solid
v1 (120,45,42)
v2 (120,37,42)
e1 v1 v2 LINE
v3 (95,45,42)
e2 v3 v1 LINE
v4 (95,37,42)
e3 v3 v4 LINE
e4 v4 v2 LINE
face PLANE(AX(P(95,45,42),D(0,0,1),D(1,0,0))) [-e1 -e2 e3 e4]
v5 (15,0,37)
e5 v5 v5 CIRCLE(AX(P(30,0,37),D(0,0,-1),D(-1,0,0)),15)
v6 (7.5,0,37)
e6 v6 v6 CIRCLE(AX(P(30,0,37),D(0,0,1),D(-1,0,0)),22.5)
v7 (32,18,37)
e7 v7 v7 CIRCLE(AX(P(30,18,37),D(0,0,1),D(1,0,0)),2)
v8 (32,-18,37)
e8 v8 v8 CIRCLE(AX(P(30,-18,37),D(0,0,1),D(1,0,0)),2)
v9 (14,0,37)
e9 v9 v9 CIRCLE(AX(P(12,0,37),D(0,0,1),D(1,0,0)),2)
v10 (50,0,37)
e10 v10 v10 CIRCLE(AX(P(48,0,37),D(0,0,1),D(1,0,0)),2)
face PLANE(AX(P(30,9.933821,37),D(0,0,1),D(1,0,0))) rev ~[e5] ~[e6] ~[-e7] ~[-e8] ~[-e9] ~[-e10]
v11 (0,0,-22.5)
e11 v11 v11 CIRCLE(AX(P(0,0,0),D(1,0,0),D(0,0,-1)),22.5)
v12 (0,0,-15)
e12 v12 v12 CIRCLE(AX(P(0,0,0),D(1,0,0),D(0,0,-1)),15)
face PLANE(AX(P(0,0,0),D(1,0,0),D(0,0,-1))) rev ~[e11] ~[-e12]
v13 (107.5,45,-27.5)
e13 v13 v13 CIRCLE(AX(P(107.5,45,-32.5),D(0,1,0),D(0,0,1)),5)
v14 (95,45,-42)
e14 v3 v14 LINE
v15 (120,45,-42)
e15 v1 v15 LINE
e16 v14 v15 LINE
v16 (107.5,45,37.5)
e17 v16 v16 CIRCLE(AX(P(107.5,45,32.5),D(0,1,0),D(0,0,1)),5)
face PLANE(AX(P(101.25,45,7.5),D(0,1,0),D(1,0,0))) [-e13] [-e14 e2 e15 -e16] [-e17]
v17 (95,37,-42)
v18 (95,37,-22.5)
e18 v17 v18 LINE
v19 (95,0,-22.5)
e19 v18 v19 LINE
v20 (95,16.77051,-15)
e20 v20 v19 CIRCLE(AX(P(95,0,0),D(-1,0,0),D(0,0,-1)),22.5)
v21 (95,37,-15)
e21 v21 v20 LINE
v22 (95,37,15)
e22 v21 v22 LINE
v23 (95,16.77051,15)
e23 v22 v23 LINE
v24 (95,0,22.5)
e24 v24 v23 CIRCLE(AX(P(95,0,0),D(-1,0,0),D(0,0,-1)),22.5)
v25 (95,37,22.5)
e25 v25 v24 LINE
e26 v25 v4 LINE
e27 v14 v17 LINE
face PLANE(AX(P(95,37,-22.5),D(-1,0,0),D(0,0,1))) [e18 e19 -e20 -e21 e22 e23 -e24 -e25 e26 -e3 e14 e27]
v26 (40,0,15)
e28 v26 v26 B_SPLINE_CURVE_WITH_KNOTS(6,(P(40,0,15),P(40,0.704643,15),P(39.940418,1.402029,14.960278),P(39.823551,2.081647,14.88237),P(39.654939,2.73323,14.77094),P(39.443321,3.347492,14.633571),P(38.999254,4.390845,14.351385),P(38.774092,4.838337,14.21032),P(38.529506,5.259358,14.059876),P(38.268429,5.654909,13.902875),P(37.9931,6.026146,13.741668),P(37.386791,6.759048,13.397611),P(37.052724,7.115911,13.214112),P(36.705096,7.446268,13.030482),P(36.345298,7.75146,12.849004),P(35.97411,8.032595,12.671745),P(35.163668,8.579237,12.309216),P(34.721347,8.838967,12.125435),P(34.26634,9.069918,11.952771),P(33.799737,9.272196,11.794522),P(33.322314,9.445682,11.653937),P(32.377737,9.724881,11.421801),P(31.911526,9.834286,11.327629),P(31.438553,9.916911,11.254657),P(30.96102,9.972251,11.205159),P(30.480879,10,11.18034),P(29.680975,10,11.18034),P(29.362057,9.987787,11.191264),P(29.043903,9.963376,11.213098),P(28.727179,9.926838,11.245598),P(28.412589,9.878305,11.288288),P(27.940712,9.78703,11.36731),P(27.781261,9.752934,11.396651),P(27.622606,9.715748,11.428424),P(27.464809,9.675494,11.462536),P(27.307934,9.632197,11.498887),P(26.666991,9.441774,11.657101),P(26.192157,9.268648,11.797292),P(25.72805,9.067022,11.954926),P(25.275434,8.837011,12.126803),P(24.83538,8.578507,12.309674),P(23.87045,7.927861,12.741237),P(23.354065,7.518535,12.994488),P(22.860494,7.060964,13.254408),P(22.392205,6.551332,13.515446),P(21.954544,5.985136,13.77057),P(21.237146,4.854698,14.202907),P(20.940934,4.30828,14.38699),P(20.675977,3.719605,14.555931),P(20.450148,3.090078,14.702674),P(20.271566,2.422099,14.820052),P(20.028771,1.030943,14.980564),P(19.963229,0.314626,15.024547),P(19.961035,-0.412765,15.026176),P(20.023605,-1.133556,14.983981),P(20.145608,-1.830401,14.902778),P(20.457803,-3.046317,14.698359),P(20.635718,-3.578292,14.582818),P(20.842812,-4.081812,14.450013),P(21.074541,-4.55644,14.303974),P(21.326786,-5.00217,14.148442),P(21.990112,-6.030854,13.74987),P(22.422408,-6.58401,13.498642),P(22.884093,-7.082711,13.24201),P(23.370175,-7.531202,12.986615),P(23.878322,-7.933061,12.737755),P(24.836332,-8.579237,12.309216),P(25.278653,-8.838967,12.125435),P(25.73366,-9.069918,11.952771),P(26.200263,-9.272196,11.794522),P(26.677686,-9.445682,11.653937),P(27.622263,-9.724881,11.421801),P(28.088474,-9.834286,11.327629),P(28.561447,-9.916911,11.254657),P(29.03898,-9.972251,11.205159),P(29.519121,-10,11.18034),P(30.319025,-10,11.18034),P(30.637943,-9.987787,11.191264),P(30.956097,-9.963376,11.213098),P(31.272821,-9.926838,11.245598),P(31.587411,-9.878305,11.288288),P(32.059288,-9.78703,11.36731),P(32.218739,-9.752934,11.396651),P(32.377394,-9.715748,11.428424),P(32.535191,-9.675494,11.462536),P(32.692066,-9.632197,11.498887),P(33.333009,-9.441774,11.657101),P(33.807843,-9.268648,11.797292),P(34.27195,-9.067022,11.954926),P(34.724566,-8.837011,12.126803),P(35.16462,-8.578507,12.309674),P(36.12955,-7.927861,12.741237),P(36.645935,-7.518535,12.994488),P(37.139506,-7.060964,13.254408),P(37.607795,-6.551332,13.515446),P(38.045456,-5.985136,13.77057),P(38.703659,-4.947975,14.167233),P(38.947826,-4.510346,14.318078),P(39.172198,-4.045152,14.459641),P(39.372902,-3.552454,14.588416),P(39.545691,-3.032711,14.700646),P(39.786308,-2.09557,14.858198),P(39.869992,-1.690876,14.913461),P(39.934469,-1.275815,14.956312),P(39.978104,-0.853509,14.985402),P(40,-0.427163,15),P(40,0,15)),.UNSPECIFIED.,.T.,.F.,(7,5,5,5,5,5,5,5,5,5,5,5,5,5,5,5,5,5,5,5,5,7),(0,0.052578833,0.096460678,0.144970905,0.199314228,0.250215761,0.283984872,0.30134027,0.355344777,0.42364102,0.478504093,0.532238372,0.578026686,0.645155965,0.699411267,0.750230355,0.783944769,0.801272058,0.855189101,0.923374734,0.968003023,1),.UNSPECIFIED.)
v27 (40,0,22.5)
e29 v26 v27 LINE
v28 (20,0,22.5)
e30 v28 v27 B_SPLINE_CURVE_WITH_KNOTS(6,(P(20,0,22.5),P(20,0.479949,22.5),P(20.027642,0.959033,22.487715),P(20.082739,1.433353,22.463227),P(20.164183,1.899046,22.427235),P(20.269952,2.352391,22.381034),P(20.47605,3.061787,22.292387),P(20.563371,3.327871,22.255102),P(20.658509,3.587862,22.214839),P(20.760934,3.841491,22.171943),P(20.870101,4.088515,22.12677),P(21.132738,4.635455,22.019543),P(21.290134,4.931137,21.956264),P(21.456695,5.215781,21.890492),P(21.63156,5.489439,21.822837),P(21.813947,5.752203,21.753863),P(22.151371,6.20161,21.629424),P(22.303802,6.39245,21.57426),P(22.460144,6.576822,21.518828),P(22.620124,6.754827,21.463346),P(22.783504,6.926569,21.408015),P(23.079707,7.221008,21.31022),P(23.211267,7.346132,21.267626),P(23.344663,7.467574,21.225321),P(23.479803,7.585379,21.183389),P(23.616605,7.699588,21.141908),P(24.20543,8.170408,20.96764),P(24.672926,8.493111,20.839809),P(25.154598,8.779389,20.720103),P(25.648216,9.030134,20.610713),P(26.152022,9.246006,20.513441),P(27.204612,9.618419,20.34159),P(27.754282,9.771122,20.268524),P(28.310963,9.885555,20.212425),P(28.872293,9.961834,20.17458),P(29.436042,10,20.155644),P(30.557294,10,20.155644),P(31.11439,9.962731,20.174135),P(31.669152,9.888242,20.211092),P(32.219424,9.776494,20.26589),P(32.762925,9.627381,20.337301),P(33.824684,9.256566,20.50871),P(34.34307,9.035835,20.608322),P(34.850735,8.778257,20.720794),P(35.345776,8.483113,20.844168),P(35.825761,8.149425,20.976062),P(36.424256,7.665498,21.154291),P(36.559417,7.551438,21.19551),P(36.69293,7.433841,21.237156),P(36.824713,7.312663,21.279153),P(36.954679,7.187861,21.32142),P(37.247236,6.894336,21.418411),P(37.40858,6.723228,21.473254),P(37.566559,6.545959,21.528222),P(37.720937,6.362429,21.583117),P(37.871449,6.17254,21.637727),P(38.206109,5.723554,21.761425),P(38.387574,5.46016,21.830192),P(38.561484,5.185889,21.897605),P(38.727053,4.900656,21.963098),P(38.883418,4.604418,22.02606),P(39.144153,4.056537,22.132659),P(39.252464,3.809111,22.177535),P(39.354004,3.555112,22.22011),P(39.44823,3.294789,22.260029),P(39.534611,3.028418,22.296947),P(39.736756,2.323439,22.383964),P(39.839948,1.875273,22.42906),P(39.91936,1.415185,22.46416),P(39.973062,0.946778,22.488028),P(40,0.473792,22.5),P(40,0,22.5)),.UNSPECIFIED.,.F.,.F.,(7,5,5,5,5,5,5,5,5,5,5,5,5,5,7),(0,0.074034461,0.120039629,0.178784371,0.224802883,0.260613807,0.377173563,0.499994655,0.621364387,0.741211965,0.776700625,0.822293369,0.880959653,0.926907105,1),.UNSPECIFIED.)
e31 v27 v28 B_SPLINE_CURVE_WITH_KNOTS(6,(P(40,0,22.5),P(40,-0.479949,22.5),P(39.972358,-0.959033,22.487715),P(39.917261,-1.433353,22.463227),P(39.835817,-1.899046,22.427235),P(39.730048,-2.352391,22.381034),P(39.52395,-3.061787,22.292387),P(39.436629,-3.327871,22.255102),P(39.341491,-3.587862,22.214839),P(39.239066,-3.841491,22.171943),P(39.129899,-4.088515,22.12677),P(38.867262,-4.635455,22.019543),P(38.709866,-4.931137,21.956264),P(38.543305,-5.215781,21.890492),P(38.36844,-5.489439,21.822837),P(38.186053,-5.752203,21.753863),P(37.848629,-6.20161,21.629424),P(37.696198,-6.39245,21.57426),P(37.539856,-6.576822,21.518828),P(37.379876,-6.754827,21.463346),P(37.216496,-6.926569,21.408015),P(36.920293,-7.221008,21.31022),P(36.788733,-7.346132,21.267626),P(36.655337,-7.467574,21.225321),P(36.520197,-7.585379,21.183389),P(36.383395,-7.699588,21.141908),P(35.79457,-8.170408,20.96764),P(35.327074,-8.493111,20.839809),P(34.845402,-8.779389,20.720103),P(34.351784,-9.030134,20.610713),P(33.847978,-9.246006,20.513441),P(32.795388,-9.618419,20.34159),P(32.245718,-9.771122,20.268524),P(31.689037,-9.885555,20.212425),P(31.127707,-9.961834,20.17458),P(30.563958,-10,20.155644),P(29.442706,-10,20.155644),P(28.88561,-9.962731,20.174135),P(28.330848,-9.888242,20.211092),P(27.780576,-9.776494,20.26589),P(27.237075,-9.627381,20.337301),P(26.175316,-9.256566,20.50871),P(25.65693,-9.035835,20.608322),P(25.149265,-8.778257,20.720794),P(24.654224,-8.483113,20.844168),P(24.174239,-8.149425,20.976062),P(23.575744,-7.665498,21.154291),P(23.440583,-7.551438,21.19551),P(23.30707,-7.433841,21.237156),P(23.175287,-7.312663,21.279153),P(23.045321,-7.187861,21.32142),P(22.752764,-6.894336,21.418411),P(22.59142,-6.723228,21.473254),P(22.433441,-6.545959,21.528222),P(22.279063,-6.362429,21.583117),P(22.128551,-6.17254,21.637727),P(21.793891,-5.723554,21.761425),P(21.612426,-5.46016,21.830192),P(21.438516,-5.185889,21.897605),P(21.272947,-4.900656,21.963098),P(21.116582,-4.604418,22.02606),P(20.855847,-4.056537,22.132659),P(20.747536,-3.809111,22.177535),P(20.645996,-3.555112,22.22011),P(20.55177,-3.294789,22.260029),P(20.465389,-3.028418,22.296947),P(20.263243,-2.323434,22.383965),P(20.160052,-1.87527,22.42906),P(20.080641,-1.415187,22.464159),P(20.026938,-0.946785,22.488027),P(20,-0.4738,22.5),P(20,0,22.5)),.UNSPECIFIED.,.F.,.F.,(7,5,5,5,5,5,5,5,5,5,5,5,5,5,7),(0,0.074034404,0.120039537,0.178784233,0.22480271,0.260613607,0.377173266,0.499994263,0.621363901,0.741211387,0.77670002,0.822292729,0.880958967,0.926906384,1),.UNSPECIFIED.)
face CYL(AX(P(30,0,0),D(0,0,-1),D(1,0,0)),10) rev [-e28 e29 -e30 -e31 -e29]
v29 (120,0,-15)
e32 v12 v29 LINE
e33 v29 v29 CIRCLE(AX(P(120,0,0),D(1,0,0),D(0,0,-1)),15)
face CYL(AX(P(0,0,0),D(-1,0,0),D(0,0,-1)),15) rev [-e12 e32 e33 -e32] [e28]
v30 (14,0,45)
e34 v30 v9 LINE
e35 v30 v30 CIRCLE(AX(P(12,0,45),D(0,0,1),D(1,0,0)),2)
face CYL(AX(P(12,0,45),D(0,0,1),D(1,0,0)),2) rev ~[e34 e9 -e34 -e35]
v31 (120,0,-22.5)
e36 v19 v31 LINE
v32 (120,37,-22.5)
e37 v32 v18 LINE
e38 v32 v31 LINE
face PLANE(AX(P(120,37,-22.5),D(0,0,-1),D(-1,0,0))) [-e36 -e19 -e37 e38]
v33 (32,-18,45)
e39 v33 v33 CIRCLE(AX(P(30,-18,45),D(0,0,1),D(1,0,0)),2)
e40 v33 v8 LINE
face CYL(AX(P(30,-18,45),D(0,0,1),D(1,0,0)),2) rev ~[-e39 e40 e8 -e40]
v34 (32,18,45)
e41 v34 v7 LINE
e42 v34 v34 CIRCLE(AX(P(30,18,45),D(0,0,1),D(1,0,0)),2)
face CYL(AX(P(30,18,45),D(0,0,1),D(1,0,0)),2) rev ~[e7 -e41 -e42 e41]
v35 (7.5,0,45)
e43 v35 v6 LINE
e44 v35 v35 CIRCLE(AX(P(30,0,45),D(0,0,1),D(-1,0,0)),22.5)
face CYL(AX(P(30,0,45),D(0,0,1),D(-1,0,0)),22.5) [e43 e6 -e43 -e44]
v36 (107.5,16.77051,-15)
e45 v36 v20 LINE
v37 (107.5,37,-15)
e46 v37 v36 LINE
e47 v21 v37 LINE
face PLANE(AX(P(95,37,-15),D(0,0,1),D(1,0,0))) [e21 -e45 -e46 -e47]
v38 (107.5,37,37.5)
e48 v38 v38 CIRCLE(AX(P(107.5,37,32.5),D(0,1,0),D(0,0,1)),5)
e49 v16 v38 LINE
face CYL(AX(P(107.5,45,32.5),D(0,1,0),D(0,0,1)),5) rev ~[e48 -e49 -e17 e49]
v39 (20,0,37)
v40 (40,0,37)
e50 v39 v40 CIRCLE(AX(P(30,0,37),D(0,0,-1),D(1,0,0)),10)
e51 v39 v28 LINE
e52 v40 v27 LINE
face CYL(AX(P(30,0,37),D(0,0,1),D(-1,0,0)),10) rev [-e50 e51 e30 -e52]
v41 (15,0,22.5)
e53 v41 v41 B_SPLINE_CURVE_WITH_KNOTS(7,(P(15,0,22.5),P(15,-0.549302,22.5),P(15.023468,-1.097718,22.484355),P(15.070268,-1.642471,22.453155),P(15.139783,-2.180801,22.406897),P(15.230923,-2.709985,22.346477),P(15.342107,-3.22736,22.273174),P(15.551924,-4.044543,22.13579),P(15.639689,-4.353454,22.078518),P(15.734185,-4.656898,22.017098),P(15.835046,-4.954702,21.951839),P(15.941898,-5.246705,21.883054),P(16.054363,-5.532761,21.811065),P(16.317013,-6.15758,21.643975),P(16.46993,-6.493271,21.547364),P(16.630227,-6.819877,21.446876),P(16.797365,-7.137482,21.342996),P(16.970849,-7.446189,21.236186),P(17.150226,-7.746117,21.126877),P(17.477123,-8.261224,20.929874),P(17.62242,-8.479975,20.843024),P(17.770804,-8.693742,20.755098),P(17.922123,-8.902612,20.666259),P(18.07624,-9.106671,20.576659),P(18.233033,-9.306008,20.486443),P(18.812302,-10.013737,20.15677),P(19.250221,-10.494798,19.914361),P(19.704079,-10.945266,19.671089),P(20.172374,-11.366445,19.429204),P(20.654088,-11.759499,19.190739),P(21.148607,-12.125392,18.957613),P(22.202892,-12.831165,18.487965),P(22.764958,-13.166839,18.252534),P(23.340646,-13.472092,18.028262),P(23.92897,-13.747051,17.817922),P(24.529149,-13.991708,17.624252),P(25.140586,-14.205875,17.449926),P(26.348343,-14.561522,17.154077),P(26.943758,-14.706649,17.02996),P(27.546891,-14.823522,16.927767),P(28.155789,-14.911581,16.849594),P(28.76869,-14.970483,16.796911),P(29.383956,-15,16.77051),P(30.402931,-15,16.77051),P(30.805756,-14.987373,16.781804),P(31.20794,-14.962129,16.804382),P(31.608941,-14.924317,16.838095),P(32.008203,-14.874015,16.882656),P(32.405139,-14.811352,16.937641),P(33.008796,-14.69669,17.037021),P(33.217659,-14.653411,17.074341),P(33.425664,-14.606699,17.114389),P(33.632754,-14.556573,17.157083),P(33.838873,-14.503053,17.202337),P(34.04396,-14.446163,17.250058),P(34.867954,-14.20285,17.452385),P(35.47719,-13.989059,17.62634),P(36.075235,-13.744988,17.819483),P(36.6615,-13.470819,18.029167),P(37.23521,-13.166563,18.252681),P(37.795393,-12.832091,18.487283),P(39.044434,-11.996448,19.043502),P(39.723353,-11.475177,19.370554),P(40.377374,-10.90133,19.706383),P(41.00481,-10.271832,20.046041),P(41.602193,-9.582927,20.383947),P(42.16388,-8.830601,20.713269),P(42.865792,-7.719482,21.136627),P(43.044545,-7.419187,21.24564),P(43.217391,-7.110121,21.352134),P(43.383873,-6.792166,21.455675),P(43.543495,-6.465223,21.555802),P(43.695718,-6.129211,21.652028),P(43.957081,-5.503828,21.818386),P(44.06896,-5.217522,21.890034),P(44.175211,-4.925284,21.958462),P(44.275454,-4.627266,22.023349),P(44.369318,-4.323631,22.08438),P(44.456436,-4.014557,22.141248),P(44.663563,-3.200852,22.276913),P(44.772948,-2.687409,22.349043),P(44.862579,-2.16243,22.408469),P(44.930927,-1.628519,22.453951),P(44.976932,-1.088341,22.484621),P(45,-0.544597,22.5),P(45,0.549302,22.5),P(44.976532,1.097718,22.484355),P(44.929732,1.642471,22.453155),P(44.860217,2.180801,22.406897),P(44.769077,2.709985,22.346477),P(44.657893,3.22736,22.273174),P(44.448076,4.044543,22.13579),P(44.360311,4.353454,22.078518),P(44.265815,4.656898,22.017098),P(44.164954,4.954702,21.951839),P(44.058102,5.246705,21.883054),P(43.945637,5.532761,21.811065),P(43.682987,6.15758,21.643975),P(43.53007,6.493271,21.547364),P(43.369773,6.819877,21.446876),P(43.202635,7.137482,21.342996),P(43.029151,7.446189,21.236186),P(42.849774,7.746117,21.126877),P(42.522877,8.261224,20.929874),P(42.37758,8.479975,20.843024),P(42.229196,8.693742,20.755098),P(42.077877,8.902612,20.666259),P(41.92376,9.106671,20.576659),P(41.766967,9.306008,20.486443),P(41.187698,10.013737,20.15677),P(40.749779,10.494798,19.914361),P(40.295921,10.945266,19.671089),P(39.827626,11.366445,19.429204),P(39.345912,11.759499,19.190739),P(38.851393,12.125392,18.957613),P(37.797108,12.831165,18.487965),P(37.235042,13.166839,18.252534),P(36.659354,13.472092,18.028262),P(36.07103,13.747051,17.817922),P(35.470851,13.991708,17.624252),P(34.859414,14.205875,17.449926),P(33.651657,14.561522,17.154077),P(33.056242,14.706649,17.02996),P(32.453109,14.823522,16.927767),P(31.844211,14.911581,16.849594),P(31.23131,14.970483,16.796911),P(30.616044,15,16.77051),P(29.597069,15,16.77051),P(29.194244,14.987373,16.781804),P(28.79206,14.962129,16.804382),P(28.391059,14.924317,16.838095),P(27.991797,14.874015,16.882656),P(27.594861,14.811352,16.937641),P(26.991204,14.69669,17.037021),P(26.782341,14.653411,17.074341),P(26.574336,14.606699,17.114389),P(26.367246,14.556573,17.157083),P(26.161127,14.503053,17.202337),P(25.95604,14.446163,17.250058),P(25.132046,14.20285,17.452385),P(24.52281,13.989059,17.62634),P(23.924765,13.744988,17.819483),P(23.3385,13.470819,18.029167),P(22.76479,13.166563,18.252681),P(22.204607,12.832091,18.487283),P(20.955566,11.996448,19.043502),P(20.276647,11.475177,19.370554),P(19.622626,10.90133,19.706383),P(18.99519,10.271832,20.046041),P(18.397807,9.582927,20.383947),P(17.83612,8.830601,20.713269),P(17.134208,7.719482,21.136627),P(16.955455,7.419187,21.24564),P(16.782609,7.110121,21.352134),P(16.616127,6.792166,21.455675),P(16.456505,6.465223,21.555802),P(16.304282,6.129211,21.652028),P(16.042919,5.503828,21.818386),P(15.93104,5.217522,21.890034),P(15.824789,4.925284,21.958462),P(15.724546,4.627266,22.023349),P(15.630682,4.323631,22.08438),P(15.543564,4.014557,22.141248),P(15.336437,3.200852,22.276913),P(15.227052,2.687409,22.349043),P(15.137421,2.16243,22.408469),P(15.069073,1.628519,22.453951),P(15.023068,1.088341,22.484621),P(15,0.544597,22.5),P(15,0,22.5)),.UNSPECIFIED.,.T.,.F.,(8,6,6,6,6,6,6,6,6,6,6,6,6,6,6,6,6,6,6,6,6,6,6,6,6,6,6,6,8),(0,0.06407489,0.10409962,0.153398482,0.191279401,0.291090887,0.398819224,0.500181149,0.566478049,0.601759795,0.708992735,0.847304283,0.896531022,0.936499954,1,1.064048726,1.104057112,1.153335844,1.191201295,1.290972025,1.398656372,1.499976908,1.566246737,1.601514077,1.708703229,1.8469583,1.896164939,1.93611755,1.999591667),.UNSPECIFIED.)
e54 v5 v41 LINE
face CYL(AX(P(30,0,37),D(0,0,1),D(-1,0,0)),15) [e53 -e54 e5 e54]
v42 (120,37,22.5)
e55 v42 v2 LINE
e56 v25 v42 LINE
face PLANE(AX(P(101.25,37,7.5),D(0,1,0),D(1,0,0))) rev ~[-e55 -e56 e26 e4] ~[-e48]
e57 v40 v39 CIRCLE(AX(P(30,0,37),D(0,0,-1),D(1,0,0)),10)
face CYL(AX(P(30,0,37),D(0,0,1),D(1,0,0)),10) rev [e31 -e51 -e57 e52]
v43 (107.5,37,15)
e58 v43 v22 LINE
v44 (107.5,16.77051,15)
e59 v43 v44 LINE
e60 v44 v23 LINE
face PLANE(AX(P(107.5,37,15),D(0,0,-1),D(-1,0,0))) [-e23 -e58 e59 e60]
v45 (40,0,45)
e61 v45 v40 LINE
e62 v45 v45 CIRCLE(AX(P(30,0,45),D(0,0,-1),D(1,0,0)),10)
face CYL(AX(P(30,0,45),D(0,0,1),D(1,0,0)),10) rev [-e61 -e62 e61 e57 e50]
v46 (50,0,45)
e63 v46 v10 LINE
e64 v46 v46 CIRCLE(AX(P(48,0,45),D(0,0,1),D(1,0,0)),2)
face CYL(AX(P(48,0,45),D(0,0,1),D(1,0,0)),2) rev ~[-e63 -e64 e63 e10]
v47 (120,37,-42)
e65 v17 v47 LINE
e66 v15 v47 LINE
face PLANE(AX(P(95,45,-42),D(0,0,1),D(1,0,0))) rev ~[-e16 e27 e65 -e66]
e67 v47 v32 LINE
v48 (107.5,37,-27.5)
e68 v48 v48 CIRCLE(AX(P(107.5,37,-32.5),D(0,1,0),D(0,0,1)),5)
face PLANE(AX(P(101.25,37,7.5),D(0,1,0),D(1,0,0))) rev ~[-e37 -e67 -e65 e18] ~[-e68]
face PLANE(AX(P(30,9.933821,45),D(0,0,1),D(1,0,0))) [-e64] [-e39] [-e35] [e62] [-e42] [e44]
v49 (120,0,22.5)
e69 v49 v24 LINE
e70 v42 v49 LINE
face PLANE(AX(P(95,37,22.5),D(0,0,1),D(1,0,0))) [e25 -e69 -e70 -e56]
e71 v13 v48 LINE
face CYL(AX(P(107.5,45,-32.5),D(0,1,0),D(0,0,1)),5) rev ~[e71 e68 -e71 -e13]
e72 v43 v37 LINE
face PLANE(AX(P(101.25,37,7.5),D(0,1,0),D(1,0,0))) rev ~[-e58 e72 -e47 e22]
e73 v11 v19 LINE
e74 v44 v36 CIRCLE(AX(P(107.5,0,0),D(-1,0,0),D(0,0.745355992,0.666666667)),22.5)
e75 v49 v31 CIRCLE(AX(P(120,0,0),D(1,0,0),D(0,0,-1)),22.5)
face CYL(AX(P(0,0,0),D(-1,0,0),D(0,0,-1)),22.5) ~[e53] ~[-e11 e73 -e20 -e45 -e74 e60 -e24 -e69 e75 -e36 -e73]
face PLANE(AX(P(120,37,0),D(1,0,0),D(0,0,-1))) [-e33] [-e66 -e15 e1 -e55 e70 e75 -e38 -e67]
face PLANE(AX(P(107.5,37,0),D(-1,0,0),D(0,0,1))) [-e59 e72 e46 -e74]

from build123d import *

# Parameters (mm, degrees)
SKETCH_1_R           = 22.5
SKETCH_1_R_2         = 15
EXTRUDE_1_DEPTH      = 120
EXTRUDE_START        = 45
SKETCH_2_W           = 25
SKETCH_2_H           = 19.5
SKETCH_2_R           = 5
SKETCH_2_W_2         = 12.5
SKETCH_2_H_2         = 15
EXTRUDE_5_DEPTH      = 8
EXTRUDE_6_REACH      = 173.867
EXTRUDE_6_END_RADIUS = 22.5
EXTRUDE_START_2      = 37
EXTRUDE_7_DEPTH      = 8
EXTRUDE_8_REACH      = 174.831
EXTRUDE_8_END_RADIUS = 22.5
CUT_EXTRUDE_1_REACH  = 137.831
SKETCH_3_4_R         = 10
CUT_EXTRUDE_2_REACH  = 156.9
SKETCH_4_R           = 2


with BuildPart() as part:
    # 草图1 → 凸台-拉伸1 (new body)
    with BuildSketch(Plane(origin=(0, 0, 0), x_dir=(0, 0, -1), z_dir=(1, 0, 0))):
        Circle(SKETCH_1_R)
        Circle(SKETCH_1_R_2, mode=Mode.SUBTRACT)
    extrude(amount=EXTRUDE_1_DEPTH)



with BuildPart() as body_2:
    # 草图2 → 凸台-拉伸5 (new body)
    # profile 1 of 6: a face of its own
    with BuildSketch(Plane(origin=(0, 0, 0), x_dir=(1, 0, 0), z_dir=(0, 1, 0)).offset(EXTRUDE_START)):
        Polygon((107.5, 0), (120, 0), (120, 22.5), (95, 22.5), (95, 15), (107.5, 15), align=None)
    # profile 2 of 6: a face of its own
    with BuildSketch(Plane(origin=(0, 0, 0), x_dir=(1, 0, 0), z_dir=(0, 1, 0)).offset(EXTRUDE_START)):
        Polygon((95, -22.5), (120, -22.5), (120, 0), (107.5, 0), (107.5, -15), (95, -15), align=None)
    # profile 3 of 6: a face of its own
    with BuildSketch(Plane(origin=(0, 0, 0), x_dir=(1, 0, 0), z_dir=(0, 1, 0)).offset(EXTRUDE_START)):
        with Locations((107.5, -32.25)):
            Rectangle(SKETCH_2_W, SKETCH_2_H)
        with Locations(Location((107.5, -32.5, 0), (0, 0, 270))):
            Circle(SKETCH_2_R, mode=Mode.SUBTRACT)
    # profile 4 of 6: a face of its own
    with BuildSketch(Plane(origin=(0, 0, 0), x_dir=(1, 0, 0), z_dir=(0, 1, 0)).offset(EXTRUDE_START)):
        with Locations((107.5, 32.25)):
            Rectangle(SKETCH_2_W, SKETCH_2_H)
        with Locations(Location((107.5, 32.5, 0), (0, 0, 270))):
            Circle(SKETCH_2_R, mode=Mode.SUBTRACT)
    # profile 5 of 6: a face of its own
    with BuildSketch(Plane(origin=(0, 0, 0), x_dir=(1, 0, 0), z_dir=(0, 1, 0)).offset(EXTRUDE_START)):
        with Locations((101.25, 7.5)):
            Rectangle(SKETCH_2_W_2, SKETCH_2_H_2)
    # profile 6 of 6: a face of its own
    with BuildSketch(Plane(origin=(0, 0, 0), x_dir=(1, 0, 0), z_dir=(0, 1, 0)).offset(EXTRUDE_START)):
        with Locations((101.25, -7.5)):
            Rectangle(SKETCH_2_W_2, SKETCH_2_H_2)
    extrude(amount=-EXTRUDE_5_DEPTH)


with BuildPart() as part_1:
    add(part.part)

    add(body_2.part)  # 凸台-拉伸6 merges body 2
    # 凸台-拉伸6: up to this cylinder (the profile starts outside it)
    extrude_6_end = Plane(origin=(110.625, 0, 0), z_dir=(-1, 0, 0)) * Cylinder(EXTRUDE_6_END_RADIUS, 393.734, mode=Mode.PRIVATE)
    # 草图2<7> → 凸台-拉伸6 (add, up to the surface)
    with BuildSketch(Plane(origin=(0, 0, 0), x_dir=(1, 0, 0), z_dir=(0, 1, 0)).offset(EXTRUDE_START_2), mode=Mode.PRIVATE) as extrude_6_sk1:
        Polygon((95, -22.5), (120, -22.5), (120, 0), (107.5, 0), (107.5, -15), (95, -15), align=None)
    extrude_6_tool1 = extrude(extrude_6_sk1.sketch, amount=-EXTRUDE_6_REACH, mode=Mode.PRIVATE) - extrude_6_end
    add(extrude_6_tool1.solids().sort_by_distance((110.625, 37, 13.125))[0])
    # 草图2<7> → 凸台-拉伸6 (add, up to the surface)
    with BuildSketch(Plane(origin=(0, 0, 0), x_dir=(1, 0, 0), z_dir=(0, 1, 0)).offset(EXTRUDE_START_2), mode=Mode.PRIVATE) as extrude_6_sk2:
        Polygon((107.5, 0), (120, 0), (120, 22.5), (95, 22.5), (95, 15), (107.5, 15), align=None)
    extrude_6_tool2 = extrude(extrude_6_sk2.sketch, amount=-EXTRUDE_6_REACH, mode=Mode.PRIVATE) - extrude_6_end
    add(extrude_6_tool2.solids().sort_by_distance((110.625, 37, -13.125))[0])



with BuildPart() as body_2_2:
    # 草图3 → 凸台-拉伸7 (new body)
    with BuildSketch(Plane.XY.offset(EXTRUDE_START)):
        with BuildLine():
            ThreePointArc((15, 0), (30, 15), (45, 0))
            Line((45, 0), (52.5, 0))
            ThreePointArc((52.5, 0), (30, 22.5), (7.5, 0))
            Line((7.5, 0), (15, 0))
        make_face()
        with BuildLine():
            Line((52.5, 0), (45, 0))
            ThreePointArc((45, 0), (30, -15), (15, 0))
            Line((15, 0), (7.5, 0))
            ThreePointArc((7.5, 0), (30, -22.5), (52.5, 0))
        make_face()
        with BuildLine():
            ThreePointArc((15, 0), (30, 15), (45, 0))
            Line((45, 0), (52.5, 0))
            ThreePointArc((52.5, 0), (30, 22.5), (7.5, 0))
            Line((7.5, 0), (15, 0))
        make_face()
        with BuildLine():
            Line((52.5, 0), (45, 0))
            ThreePointArc((45, 0), (30, -15), (15, 0))
            Line((15, 0), (7.5, 0))
            ThreePointArc((7.5, 0), (30, -22.5), (52.5, 0))
        make_face()
        with BuildLine():
            ThreePointArc((20, 0), (30, 10), (40, 0))
            Line((40, 0), (45, 0))
            ThreePointArc((45, 0), (30, 15), (15, 0))
            Line((15, 0), (20, 0))
        make_face()
        with BuildLine():
            Line((45, 0), (40, 0))
            ThreePointArc((40, 0), (30, -10), (20, 0))
            Line((20, 0), (15, 0))
            ThreePointArc((15, 0), (30, -15), (45, 0))
        make_face()
        with BuildLine():
            ThreePointArc((20, 0), (30, 10), (40, 0))
            Line((40, 0), (45, 0))
            ThreePointArc((45, 0), (30, 15), (15, 0))
            Line((15, 0), (20, 0))
        make_face()
        with BuildLine():
            Line((45, 0), (40, 0))
            ThreePointArc((40, 0), (30, -10), (20, 0))
            Line((20, 0), (15, 0))
            ThreePointArc((15, 0), (30, -15), (45, 0))
        make_face()
    extrude(amount=-EXTRUDE_7_DEPTH)


with BuildPart() as part_2:
    add(part_1.part)

    add(body_2_2.part)  # 凸台-拉伸8 merges body 2 2
    # 凸台-拉伸8: up to this cylinder (the profile starts outside it)
    extrude_8_end = Plane(origin=(30, 0, 0), z_dir=(-1, 0, 0)) * Cylinder(EXTRUDE_8_END_RADIUS, 420.662, mode=Mode.PRIVATE)
    # 草图3<3> → 凸台-拉伸8 (add, up to the surface)
    with BuildSketch(Plane.XY.offset(EXTRUDE_START_2), mode=Mode.PRIVATE) as extrude_8_sk1:
        with BuildLine():
            ThreePointArc((20, 0), (30, 10), (40, 0))
            Line((40, 0), (45, 0))
            ThreePointArc((45, 0), (30, 15), (15, 0))
            Line((15, 0), (20, 0))
        make_face()
    extrude_8_tool1 = extrude(extrude_8_sk1.sketch, amount=-EXTRUDE_8_REACH, mode=Mode.PRIVATE) - extrude_8_end
    add(extrude_8_tool1.solids().sort_by_distance((17.5, 0.33541, 37))[0])
    # 草图3<3> → 凸台-拉伸8 (add, up to the surface)
    with BuildSketch(Plane.XY.offset(EXTRUDE_START_2), mode=Mode.PRIVATE) as extrude_8_sk2:
        with BuildLine():
            Line((45, 0), (40, 0))
            ThreePointArc((40, 0), (30, -10), (20, 0))
            Line((20, 0), (15, 0))
            ThreePointArc((15, 0), (30, -15), (45, 0))
        make_face()
    extrude_8_tool2 = extrude(extrude_8_sk2.sketch, amount=-EXTRUDE_8_REACH, mode=Mode.PRIVATE) - extrude_8_end
    add(extrude_8_tool2.solids().sort_by_distance((42.5, -0.33541, 37))[0])
    # 草图3<3> → 凸台-拉伸8 (add, up to the surface)
    with BuildSketch(Plane.XY.offset(EXTRUDE_START_2), mode=Mode.PRIVATE) as extrude_8_sk3:
        with BuildLine():
            ThreePointArc((20, 0), (30, 10), (40, 0))
            Line((40, 0), (45, 0))
            ThreePointArc((45, 0), (30, 15), (15, 0))
            Line((15, 0), (20, 0))
        make_face()
    extrude_8_tool3 = extrude(extrude_8_sk3.sketch, amount=-EXTRUDE_8_REACH, mode=Mode.PRIVATE) - extrude_8_end
    add(extrude_8_tool3.solids().sort_by_distance((17.5, 0.33541, 37))[0])
    # 草图3<3> → 凸台-拉伸8 (add, up to the surface)
    with BuildSketch(Plane.XY.offset(EXTRUDE_START_2), mode=Mode.PRIVATE) as extrude_8_sk4:
        with BuildLine():
            Line((45, 0), (40, 0))
            ThreePointArc((40, 0), (30, -10), (20, 0))
            Line((20, 0), (15, 0))
            ThreePointArc((15, 0), (30, -15), (45, 0))
        make_face()
    extrude_8_tool4 = extrude(extrude_8_sk4.sketch, amount=-EXTRUDE_8_REACH, mode=Mode.PRIVATE) - extrude_8_end
    add(extrude_8_tool4.solids().sort_by_distance((42.5, -0.33541, 37))[0])

    # 草图3<4> → 切除-拉伸1 (cut, up to next)
    with BuildSketch(Plane.XY, mode=Mode.PRIVATE) as cut_extrude_1_sk1:
        with Locations((30, 0)):
            Circle(SKETCH_3_4_R)
    cut_extrude_1_tool1 = extrude(cut_extrude_1_sk1.sketch, amount=CUT_EXTRUDE_1_REACH, mode=Mode.PRIVATE) & part_2.part
    add(cut_extrude_1_tool1.solids().sort_by_distance((30, 0, 0))[0], mode=Mode.SUBTRACT)

    # 草图4 → 切除-拉伸2 (cut, up to next)
    with BuildSketch(Plane.XY.offset(45), mode=Mode.PRIVATE) as cut_extrude_2_sk1:
        with Locations((30, 18)):
            Circle(SKETCH_4_R)
    cut_extrude_2_tool1 = extrude(cut_extrude_2_sk1.sketch, amount=-CUT_EXTRUDE_2_REACH, mode=Mode.PRIVATE) & part_2.part
    # 草图4 → 切除-拉伸2 (cut, up to next)
    with BuildSketch(Plane.XY.offset(45), mode=Mode.PRIVATE) as cut_extrude_2_sk2:
        with Locations((48, 0)):
            Circle(SKETCH_4_R)
    cut_extrude_2_tool2 = extrude(cut_extrude_2_sk2.sketch, amount=-CUT_EXTRUDE_2_REACH, mode=Mode.PRIVATE) & part_2.part
    # 草图4 → 切除-拉伸2 (cut, up to next)
    with BuildSketch(Plane.XY.offset(45), mode=Mode.PRIVATE) as cut_extrude_2_sk3:
        with Locations((30, -18)):
            Circle(SKETCH_4_R)
    cut_extrude_2_tool3 = extrude(cut_extrude_2_sk3.sketch, amount=-CUT_EXTRUDE_2_REACH, mode=Mode.PRIVATE) & part_2.part
    # 草图4 → 切除-拉伸2 (cut, up to next)
    with BuildSketch(Plane.XY.offset(45), mode=Mode.PRIVATE) as cut_extrude_2_sk4:
        with Locations((12, 0)):
            Circle(SKETCH_4_R)
    cut_extrude_2_tool4 = extrude(cut_extrude_2_sk4.sketch, amount=-CUT_EXTRUDE_2_REACH, mode=Mode.PRIVATE) & part_2.part
    add(cut_extrude_2_tool1.solids().sort_by_distance((30, 18, 45))[0], mode=Mode.SUBTRACT)
    add(cut_extrude_2_tool2.solids().sort_by_distance((48, 0, 45))[0], mode=Mode.SUBTRACT)
    add(cut_extrude_2_tool3.solids().sort_by_distance((30, -18, 45))[0], mode=Mode.SUBTRACT)
    add(cut_extrude_2_tool4.solids().sort_by_distance((12, 0, 45))[0], mode=Mode.SUBTRACT)


solid = part_2.part
